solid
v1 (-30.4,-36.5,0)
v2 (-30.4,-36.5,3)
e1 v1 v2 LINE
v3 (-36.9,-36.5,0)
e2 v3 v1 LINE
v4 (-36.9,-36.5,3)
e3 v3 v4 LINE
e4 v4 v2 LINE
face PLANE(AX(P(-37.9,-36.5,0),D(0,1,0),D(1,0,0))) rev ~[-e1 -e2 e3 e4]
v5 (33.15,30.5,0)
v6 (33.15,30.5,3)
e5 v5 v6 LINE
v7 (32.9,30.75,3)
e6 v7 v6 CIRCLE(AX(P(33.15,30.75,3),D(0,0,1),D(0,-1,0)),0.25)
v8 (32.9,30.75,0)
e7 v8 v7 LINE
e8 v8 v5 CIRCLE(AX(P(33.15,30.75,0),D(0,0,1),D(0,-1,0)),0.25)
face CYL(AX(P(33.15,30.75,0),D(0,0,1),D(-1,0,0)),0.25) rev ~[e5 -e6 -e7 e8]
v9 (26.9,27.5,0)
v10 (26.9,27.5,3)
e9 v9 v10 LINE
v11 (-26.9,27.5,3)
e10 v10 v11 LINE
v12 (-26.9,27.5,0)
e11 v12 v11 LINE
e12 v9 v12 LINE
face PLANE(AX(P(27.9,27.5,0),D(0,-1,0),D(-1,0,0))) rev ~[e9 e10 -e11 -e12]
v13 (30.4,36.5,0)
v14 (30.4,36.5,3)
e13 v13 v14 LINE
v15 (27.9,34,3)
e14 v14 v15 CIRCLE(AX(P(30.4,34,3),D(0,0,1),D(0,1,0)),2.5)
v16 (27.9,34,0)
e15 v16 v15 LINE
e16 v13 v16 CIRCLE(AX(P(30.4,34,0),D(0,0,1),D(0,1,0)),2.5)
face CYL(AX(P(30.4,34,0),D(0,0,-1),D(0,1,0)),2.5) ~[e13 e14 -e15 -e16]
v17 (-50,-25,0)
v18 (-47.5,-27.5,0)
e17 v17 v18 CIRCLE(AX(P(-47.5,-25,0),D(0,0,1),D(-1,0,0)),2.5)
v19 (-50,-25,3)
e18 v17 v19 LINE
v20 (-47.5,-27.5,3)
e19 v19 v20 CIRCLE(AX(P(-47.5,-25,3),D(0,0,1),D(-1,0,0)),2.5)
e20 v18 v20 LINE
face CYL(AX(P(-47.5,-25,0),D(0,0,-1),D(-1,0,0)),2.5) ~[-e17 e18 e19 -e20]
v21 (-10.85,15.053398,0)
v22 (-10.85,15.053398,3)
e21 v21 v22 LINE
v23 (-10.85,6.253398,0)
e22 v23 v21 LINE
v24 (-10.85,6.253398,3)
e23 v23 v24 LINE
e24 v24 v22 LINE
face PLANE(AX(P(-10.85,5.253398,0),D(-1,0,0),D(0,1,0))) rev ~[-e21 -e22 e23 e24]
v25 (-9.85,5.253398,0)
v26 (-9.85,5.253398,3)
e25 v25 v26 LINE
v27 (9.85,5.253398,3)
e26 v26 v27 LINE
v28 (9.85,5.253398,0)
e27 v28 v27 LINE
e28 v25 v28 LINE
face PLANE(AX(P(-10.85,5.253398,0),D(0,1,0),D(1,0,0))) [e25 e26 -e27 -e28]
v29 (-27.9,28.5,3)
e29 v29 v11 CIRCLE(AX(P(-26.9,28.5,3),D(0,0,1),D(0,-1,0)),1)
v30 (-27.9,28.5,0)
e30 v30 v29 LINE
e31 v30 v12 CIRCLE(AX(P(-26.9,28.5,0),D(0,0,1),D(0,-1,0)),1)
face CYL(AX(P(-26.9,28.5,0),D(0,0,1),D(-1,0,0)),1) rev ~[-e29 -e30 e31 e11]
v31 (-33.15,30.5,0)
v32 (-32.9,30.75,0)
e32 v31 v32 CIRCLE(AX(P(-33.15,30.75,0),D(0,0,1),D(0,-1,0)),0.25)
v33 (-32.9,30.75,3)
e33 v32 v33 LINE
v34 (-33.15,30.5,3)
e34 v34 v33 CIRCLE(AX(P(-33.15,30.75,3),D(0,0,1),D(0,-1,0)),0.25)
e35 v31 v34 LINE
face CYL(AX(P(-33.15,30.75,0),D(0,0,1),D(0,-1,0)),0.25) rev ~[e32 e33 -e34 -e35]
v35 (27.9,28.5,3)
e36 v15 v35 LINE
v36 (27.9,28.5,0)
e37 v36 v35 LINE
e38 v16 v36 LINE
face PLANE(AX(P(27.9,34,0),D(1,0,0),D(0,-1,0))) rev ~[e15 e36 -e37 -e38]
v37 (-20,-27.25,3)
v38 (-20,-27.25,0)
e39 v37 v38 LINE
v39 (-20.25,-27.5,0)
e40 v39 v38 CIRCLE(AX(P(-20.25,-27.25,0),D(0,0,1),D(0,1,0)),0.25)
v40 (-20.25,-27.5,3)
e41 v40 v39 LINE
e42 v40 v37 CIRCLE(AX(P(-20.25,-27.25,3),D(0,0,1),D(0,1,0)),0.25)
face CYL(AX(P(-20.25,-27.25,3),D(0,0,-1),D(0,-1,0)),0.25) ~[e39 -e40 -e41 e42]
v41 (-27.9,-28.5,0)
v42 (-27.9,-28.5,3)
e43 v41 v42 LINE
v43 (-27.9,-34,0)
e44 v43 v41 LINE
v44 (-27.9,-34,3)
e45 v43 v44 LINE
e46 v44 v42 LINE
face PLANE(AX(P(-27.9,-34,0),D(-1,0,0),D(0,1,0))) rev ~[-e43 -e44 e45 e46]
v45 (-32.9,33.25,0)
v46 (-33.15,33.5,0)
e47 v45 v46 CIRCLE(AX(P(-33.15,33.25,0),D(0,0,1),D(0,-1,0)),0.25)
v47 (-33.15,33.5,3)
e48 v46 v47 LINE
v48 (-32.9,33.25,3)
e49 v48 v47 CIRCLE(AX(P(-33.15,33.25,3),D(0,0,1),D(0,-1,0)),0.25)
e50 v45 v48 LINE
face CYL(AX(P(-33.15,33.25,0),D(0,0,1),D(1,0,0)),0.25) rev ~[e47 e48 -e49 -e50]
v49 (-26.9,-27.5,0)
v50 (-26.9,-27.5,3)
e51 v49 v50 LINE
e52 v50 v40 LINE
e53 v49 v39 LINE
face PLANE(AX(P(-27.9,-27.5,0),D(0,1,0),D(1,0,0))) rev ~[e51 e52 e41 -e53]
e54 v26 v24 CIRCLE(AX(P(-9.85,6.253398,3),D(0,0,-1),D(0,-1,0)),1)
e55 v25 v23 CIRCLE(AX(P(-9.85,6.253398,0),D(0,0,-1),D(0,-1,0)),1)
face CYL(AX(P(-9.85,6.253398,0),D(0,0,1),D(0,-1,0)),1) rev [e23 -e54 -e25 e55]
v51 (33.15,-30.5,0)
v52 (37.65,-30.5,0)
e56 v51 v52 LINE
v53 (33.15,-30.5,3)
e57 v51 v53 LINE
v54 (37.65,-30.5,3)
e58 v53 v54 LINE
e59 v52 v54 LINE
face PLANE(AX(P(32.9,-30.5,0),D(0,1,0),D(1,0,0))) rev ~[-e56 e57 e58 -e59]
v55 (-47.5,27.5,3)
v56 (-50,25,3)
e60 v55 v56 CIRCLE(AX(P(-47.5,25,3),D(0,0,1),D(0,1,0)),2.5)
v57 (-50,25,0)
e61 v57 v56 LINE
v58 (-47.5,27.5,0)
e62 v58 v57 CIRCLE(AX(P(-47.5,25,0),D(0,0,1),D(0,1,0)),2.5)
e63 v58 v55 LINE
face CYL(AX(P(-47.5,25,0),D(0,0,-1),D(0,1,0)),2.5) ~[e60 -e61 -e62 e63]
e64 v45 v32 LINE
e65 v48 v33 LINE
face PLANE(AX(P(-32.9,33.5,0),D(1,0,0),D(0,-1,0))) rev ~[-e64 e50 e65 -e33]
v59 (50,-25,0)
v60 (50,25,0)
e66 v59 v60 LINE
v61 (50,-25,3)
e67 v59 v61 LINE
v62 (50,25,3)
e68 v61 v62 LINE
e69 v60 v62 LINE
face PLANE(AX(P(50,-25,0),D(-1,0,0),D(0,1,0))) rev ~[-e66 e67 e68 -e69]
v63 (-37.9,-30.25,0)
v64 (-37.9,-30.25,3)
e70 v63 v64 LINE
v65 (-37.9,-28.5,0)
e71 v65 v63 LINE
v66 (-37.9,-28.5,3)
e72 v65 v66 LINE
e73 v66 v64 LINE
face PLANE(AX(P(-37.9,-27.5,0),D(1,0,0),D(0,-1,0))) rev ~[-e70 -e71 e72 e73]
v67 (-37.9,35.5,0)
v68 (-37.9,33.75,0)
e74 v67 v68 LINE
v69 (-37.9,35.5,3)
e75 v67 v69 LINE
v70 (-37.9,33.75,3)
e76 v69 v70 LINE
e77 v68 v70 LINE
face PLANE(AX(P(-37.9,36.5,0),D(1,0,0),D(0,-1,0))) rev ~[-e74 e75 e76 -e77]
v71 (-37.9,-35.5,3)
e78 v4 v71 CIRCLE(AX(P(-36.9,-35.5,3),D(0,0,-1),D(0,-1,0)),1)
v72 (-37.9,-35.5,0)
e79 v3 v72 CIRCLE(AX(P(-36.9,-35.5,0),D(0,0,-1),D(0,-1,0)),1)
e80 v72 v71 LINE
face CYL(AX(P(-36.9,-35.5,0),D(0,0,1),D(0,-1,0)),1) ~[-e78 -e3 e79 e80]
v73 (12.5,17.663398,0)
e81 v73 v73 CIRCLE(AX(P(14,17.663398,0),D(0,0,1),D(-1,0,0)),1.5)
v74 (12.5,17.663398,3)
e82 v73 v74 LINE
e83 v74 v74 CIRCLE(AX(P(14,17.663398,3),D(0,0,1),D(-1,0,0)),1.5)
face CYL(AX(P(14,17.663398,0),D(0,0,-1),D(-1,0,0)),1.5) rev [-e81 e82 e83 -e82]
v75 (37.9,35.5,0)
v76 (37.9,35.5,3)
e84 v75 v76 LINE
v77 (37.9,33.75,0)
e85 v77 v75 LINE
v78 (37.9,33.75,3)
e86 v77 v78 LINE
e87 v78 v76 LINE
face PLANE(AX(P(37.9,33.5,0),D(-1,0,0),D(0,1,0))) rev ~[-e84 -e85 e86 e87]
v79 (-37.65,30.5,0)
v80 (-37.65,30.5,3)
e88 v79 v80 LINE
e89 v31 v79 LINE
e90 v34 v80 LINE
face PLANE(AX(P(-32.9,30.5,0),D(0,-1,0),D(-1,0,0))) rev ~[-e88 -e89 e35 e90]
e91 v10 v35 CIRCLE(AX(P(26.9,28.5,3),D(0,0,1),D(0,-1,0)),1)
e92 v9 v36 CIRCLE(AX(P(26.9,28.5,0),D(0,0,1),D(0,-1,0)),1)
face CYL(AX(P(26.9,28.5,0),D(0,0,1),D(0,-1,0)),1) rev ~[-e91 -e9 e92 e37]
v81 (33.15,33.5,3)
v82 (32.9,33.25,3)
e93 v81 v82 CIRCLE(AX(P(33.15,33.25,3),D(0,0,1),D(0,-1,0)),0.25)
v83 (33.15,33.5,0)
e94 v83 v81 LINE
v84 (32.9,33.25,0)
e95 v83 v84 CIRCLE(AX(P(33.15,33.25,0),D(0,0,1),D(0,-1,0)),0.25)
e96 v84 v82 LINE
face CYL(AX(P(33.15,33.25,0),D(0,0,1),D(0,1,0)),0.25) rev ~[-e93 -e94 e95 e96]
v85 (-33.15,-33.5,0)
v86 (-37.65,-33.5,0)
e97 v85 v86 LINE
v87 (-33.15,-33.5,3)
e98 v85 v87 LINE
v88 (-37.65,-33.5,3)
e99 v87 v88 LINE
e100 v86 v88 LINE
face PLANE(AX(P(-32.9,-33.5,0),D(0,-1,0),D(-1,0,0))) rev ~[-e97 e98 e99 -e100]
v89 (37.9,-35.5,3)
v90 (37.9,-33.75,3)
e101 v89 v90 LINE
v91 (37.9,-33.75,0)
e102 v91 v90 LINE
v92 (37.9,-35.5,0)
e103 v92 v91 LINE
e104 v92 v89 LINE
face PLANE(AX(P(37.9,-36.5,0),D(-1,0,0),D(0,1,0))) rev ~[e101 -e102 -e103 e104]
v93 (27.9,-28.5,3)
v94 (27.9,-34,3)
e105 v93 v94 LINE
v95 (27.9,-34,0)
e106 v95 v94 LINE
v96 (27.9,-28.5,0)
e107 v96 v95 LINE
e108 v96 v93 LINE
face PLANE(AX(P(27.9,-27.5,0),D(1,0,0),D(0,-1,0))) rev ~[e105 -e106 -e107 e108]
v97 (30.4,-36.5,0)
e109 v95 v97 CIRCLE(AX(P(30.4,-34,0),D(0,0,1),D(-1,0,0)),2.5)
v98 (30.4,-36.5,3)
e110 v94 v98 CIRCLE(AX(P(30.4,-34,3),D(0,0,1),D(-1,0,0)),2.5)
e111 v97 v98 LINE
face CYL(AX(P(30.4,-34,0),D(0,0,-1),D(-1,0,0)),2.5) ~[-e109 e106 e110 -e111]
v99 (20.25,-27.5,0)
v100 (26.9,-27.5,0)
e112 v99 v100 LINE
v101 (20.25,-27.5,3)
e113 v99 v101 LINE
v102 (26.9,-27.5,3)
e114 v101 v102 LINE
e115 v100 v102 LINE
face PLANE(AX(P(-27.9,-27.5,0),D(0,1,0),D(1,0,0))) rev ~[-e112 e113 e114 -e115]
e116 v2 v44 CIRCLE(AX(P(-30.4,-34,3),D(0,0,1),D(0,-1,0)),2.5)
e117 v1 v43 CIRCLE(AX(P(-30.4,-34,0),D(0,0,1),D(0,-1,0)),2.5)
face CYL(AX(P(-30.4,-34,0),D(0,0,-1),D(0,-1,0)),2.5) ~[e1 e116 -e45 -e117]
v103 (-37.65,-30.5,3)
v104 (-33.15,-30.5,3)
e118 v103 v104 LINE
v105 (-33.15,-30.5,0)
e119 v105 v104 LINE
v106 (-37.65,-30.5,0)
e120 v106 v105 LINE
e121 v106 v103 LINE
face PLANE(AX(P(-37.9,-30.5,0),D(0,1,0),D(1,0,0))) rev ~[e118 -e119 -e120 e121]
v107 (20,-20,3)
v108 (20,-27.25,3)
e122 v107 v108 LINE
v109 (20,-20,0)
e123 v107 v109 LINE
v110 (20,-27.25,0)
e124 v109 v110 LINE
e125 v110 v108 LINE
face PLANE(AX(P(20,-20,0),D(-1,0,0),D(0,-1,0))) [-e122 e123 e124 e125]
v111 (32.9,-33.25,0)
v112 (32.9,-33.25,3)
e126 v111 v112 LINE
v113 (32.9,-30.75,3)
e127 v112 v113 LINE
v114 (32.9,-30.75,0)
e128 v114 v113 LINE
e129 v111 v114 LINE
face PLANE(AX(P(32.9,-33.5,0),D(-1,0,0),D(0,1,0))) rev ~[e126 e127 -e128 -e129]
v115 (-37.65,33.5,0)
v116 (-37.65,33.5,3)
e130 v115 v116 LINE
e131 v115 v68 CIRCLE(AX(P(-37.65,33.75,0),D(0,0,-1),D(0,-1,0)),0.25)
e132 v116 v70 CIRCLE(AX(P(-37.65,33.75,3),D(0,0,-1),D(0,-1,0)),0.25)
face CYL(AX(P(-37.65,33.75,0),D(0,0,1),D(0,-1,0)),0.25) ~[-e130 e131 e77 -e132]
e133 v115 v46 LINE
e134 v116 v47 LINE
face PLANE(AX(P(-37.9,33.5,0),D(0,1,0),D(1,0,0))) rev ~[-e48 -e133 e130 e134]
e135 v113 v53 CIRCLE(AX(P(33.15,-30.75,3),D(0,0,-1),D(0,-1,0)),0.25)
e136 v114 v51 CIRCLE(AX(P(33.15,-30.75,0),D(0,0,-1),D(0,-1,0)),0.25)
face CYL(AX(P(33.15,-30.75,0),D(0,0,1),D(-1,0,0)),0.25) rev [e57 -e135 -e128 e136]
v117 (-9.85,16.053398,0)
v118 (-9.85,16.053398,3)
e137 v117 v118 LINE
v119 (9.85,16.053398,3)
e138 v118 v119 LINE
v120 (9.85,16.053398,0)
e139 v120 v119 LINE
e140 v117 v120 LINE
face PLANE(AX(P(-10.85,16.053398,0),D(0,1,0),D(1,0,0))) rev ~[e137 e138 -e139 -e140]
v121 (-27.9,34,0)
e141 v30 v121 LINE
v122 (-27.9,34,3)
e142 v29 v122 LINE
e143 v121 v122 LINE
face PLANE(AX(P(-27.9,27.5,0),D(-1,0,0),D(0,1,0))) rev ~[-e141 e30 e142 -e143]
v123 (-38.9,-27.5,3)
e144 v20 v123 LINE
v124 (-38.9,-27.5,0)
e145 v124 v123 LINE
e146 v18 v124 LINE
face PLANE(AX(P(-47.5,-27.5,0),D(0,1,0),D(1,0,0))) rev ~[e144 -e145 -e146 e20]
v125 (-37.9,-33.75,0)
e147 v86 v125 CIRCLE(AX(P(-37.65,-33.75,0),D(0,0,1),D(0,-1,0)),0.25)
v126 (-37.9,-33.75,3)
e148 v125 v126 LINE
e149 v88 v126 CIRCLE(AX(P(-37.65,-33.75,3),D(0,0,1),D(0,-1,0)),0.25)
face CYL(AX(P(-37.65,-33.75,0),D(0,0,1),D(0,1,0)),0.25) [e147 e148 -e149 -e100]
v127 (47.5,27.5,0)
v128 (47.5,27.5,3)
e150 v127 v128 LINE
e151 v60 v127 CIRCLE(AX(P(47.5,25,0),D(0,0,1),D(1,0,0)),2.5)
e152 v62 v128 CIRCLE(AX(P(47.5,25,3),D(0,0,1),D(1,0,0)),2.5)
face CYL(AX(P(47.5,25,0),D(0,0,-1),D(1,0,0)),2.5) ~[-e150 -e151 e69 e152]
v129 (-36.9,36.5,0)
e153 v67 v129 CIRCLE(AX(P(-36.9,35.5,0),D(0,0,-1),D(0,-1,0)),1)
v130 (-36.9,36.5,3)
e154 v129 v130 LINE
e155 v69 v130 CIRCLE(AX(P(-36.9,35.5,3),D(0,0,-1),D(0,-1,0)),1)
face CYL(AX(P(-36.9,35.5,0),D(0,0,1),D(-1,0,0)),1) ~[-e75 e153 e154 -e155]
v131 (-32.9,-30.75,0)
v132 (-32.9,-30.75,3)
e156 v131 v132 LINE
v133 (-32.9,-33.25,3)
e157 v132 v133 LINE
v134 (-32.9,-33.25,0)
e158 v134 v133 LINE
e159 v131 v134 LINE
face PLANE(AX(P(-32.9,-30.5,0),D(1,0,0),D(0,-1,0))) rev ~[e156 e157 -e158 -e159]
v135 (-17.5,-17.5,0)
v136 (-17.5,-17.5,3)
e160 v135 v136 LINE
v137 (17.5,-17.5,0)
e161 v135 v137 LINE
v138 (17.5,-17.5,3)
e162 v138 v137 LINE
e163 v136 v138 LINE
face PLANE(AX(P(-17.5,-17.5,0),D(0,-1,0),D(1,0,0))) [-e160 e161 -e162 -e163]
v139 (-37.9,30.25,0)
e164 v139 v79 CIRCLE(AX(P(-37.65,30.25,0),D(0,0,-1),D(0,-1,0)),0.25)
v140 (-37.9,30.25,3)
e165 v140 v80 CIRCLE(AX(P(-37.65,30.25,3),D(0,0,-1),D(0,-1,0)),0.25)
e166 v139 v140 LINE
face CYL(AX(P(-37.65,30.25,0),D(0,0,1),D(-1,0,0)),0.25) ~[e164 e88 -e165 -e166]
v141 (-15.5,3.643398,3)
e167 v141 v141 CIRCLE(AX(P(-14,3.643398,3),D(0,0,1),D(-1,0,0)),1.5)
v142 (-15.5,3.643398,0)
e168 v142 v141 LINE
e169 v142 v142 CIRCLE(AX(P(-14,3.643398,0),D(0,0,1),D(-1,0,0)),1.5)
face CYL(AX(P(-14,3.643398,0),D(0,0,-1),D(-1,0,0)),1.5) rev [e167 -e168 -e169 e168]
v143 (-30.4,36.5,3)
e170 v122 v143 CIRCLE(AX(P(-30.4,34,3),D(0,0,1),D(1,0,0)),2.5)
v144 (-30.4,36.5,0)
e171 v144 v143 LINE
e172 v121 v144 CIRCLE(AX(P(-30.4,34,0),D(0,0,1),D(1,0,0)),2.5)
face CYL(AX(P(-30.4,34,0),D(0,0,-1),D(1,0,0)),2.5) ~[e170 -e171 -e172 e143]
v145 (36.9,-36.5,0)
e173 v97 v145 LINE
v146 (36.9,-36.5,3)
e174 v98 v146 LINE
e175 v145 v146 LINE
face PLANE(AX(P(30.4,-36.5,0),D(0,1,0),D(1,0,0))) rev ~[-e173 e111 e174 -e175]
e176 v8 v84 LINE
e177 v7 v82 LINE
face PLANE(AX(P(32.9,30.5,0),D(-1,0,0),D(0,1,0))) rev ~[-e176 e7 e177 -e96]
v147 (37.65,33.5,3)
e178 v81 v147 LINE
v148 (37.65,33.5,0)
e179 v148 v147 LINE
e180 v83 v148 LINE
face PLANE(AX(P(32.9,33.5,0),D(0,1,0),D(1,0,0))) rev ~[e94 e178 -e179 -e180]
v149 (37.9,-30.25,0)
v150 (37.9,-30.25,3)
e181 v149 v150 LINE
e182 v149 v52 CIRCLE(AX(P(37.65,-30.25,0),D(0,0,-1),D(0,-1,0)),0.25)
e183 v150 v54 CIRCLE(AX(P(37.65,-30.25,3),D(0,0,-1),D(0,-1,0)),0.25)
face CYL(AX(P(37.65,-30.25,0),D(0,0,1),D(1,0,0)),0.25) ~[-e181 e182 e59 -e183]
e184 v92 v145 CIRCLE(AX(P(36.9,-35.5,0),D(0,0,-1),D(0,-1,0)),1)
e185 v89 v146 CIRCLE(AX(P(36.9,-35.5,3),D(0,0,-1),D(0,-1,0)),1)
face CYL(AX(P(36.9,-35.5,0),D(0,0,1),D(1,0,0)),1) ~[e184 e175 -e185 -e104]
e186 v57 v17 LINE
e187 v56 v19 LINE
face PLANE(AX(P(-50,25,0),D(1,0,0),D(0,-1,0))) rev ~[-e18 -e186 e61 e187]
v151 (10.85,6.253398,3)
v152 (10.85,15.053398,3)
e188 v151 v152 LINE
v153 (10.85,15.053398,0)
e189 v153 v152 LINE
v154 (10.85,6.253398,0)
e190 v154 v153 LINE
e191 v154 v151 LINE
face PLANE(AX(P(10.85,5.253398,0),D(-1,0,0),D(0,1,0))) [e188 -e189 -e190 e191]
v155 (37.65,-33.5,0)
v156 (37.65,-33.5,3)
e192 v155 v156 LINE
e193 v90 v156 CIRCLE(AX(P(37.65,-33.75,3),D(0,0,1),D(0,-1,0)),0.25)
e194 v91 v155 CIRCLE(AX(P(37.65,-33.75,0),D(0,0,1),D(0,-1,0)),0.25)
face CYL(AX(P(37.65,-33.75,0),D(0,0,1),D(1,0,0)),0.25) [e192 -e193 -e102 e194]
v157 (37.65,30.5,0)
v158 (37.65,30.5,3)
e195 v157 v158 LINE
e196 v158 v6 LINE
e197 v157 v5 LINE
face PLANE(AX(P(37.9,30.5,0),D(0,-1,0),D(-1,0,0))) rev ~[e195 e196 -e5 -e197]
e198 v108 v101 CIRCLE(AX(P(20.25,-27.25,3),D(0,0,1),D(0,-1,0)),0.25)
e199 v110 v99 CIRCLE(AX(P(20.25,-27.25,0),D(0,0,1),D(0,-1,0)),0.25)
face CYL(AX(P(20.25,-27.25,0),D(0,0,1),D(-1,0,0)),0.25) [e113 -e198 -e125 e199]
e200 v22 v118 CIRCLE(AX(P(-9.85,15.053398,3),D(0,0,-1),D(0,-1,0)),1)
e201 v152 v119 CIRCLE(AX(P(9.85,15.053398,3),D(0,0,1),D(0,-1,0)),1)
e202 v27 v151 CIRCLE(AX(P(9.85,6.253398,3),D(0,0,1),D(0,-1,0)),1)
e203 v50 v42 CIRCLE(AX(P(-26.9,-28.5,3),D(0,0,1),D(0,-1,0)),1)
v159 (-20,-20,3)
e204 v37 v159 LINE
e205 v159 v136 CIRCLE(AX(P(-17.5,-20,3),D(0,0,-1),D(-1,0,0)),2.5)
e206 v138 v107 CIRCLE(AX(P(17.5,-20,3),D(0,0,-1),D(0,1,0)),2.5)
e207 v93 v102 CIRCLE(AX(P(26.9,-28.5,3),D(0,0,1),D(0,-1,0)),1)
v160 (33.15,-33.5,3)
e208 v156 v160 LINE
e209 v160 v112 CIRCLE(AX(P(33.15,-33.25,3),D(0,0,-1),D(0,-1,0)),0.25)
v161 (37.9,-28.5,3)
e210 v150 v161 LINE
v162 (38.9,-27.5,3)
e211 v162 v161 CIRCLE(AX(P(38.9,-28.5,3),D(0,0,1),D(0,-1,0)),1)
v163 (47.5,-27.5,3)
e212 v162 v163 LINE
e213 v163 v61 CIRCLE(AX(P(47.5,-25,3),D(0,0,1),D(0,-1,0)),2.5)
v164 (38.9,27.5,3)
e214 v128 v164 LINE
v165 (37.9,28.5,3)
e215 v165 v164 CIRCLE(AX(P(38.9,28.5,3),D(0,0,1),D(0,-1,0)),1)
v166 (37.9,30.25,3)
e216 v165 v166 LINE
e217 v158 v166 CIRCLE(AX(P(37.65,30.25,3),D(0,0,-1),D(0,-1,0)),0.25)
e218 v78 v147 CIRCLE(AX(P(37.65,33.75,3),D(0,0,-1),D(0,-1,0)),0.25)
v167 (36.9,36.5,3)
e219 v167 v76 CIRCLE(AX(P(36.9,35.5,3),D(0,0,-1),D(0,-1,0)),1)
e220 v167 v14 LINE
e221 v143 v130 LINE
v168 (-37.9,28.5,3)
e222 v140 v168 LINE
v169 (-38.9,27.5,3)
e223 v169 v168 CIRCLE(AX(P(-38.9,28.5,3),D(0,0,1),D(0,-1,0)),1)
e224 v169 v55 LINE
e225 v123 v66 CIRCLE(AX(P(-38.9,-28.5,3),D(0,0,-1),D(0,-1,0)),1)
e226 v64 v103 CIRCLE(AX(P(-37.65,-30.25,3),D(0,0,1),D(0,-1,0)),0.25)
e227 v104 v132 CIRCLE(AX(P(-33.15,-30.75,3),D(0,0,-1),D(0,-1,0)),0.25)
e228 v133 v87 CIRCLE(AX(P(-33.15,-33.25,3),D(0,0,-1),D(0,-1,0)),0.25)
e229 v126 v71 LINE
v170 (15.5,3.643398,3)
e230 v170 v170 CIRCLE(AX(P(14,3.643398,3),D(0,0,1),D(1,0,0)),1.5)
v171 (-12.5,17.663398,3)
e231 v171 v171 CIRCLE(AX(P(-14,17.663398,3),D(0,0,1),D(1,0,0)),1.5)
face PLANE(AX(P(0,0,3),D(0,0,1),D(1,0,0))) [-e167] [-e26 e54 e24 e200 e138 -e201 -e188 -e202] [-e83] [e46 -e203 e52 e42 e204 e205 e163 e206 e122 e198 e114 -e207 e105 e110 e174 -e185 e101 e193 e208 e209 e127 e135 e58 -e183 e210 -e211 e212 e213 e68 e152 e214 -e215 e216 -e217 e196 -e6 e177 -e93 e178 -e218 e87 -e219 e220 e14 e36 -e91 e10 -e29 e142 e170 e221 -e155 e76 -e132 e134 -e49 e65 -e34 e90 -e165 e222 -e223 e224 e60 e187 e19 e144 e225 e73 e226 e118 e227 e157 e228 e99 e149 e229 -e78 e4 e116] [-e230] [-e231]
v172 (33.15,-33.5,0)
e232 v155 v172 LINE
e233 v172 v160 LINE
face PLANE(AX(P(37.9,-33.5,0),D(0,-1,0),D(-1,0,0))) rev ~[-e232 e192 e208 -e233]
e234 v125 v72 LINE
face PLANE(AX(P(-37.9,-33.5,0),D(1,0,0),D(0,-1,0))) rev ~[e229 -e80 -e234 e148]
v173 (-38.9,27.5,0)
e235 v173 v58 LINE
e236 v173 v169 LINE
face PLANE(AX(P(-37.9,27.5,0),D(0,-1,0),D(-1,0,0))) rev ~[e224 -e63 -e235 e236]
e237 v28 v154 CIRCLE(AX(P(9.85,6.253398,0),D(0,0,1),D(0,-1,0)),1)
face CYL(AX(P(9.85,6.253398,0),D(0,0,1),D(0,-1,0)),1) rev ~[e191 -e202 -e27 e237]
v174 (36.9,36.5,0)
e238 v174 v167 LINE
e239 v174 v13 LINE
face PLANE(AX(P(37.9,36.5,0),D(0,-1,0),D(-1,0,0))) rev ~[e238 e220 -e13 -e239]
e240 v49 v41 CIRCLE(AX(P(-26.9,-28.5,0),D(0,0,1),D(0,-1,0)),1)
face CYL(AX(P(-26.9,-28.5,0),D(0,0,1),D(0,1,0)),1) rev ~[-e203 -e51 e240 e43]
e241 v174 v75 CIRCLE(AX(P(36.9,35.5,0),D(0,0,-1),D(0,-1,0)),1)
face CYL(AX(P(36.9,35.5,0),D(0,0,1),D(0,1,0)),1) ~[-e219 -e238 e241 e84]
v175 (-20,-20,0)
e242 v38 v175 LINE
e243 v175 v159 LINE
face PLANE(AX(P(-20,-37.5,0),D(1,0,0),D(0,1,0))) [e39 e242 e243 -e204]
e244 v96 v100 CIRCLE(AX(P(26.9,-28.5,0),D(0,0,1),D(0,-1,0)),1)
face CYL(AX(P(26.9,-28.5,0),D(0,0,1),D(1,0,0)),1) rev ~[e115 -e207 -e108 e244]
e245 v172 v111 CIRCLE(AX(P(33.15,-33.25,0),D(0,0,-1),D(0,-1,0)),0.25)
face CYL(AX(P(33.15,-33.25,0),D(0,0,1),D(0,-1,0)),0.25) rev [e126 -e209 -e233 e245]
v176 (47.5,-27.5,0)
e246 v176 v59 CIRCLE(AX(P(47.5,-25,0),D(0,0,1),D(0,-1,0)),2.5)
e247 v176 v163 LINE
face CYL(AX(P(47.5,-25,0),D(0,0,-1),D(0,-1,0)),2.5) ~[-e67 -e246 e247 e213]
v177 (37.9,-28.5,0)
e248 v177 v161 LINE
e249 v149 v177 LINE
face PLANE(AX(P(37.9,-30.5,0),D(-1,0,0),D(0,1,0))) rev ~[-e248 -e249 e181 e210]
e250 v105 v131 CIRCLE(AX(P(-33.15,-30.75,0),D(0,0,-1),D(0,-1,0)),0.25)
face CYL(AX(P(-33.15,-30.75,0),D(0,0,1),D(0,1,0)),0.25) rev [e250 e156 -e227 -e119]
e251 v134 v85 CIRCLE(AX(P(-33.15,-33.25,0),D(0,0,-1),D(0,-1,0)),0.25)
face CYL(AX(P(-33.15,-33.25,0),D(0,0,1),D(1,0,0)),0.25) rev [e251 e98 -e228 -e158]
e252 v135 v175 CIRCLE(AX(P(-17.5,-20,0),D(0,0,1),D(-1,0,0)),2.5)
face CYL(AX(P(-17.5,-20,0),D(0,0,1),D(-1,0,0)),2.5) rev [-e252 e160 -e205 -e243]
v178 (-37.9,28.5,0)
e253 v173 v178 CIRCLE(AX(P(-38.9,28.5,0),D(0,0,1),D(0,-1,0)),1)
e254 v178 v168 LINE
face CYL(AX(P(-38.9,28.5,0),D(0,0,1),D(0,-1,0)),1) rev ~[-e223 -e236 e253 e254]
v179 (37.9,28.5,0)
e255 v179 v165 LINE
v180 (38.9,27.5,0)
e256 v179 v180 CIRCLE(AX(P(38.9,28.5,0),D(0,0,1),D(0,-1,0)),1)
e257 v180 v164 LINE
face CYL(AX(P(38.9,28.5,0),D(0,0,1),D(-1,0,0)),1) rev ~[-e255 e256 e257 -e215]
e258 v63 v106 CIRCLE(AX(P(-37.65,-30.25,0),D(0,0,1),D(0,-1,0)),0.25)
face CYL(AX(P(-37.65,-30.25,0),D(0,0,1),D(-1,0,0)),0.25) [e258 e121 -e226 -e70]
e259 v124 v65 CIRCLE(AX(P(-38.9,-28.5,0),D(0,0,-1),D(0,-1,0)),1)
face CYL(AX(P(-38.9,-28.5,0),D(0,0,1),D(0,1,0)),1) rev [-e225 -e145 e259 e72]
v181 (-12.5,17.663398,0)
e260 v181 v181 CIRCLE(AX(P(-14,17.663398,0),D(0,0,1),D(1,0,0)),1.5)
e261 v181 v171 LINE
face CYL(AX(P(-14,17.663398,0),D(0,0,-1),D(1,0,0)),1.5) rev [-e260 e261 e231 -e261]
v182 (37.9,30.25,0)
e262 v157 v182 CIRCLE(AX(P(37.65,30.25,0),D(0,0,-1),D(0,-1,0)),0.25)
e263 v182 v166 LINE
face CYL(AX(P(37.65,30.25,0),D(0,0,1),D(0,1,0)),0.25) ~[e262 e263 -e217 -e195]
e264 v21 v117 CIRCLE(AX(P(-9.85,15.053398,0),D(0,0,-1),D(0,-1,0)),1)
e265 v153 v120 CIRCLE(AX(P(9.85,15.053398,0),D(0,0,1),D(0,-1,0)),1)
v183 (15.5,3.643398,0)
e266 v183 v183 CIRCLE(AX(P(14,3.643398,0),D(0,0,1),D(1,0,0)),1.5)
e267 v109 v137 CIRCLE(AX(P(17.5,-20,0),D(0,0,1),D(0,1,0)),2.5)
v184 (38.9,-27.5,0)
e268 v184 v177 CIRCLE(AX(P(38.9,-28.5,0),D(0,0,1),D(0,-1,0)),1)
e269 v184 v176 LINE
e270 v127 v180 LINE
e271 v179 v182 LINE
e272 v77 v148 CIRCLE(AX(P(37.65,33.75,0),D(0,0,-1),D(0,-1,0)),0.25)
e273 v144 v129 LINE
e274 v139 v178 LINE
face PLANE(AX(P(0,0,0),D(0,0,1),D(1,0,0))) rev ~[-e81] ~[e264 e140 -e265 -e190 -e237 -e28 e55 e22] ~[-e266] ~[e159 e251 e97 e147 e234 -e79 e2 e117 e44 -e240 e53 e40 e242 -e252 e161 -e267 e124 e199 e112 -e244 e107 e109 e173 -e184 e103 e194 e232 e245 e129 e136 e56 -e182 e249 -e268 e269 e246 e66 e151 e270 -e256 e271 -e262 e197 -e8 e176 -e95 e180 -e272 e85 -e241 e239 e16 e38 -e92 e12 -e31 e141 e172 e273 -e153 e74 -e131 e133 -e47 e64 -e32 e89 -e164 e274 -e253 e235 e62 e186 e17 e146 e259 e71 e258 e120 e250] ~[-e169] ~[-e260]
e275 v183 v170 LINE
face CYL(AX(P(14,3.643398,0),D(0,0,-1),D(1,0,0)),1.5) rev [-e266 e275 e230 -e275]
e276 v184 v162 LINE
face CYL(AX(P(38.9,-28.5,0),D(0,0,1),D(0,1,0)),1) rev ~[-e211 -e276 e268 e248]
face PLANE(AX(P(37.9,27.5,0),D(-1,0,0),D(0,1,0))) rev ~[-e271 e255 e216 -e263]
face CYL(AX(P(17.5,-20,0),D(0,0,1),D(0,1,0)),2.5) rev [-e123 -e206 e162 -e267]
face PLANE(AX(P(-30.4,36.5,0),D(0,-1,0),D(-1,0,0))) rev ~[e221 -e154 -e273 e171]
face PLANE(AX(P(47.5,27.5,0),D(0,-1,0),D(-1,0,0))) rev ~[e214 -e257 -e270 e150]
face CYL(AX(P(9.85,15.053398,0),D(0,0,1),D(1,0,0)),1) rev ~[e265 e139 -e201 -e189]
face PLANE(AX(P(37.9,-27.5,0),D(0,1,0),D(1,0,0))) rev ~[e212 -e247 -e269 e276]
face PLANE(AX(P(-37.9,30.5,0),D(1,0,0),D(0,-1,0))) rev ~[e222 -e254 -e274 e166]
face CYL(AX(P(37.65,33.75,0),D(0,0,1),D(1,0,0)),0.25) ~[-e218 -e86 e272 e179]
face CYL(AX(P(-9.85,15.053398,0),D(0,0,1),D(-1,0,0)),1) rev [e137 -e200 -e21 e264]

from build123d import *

# Parameters (mm, degrees)
CROQUIS1_R              = 1.5
CROQUIS1_W              = 21.7
CROQUIS1_H              = 10.8
SALIENTE_EXTRUIR1_DEPTH = 3
CORTAR_EXTRUIR2_DEPTH   = 3
REDONDEO1_R             = 1
REDONDEO2_R             = 0.25


with BuildPart() as part:
    # Croquis1 → Saliente-Extruir1 (new body)
    with BuildSketch(Plane.XY):
        with BuildLine():
            Line((-50, 25), (-50, -25))
            ThreePointArc((-50, -25), (-49.267766953, -26.767766953), (-47.5, -27.5))
            Line((-47.5, -27.5), (-37.9, -27.5))
            Line((-37.9, -27.5), (-37.9, -30.5))
            Line((-37.9, -30.5), (-32.9, -30.5))
            Line((-32.9, -30.5), (-32.9, -33.5))
            Line((-32.9, -33.5), (-37.9, -33.5))
            Line((-37.9, -33.5), (-37.9, -36.5))
            Line((-37.9, -36.5), (-30.4, -36.5))
            ThreePointArc((-30.4, -36.5), (-28.632233047, -35.767766953), (-27.9, -34))
            Line((-27.9, -34), (-27.9, -27.5))
            Line((-27.9, -27.5), (27.9, -27.5))
            Line((27.9, -27.5), (27.9, -34))
            ThreePointArc((27.9, -34), (28.632233047, -35.767766953), (30.4, -36.5))
            Line((30.4, -36.5), (37.9, -36.5))
            Line((37.9, -36.5), (37.9, -33.5))
            Line((37.9, -33.5), (32.9, -33.5))
            Line((32.9, -33.5), (32.9, -30.5))
            Line((32.9, -30.5), (37.9, -30.5))
            Line((37.9, -30.5), (37.9, -27.5))
            Line((37.9, -27.5), (47.5, -27.5))
            ThreePointArc((47.5, -27.5), (49.267766953, -26.767766953), (50, -25))
            Line((50, -25), (50, 25))
            ThreePointArc((50, 25), (49.267766953, 26.767766953), (47.5, 27.5))
            Line((47.5, 27.5), (37.9, 27.5))
            Line((37.9, 27.5), (37.9, 30.5))
            Line((37.9, 30.5), (32.9, 30.5))
            Line((32.9, 30.5), (32.9, 33.5))
            Line((32.9, 33.5), (37.9, 33.5))
            Line((37.9, 33.5), (37.9, 36.5))
            Line((37.9, 36.5), (30.4, 36.5))
            ThreePointArc((30.4, 36.5), (28.632233047, 35.767766953), (27.9, 34))
            Line((27.9, 34), (27.9, 27.5))
            Line((27.9, 27.5), (-27.9, 27.5))
            Line((-27.9, 27.5), (-27.9, 34))
            ThreePointArc((-27.9, 34), (-28.632233047, 35.767766953), (-30.4, 36.5))
            Line((-30.4, 36.5), (-37.9, 36.5))
            Line((-37.9, 36.5), (-37.9, 33.5))
            Line((-37.9, 33.5), (-32.9, 33.5))
            Line((-32.9, 33.5), (-32.9, 30.5))
            Line((-32.9, 30.5), (-37.9, 30.5))
            Line((-37.9, 30.5), (-37.9, 27.5))
            Line((-37.9, 27.5), (-47.5, 27.5))
            ThreePointArc((-47.5, 27.5), (-49.267766953, 26.767766953), (-50, 25))
        make_face()
        with Locations((-14, 17.663397979)):
            Circle(CROQUIS1_R, mode=Mode.SUBTRACT)
        with Locations(Location((14, 17.663397979, 0), (0, 0, 180))):
            Circle(CROQUIS1_R, mode=Mode.SUBTRACT)
        with Locations((14, 3.643397979)):
            Circle(CROQUIS1_R, mode=Mode.SUBTRACT)
        with Locations(Location((-14, 3.643397979, 0), (0, 0, 180))):
            Circle(CROQUIS1_R, mode=Mode.SUBTRACT)
        with Locations((0, 10.653397979)):
            Rectangle(CROQUIS1_W, CROQUIS1_H, mode=Mode.SUBTRACT)
    extrude(amount=SALIENTE_EXTRUIR1_DEPTH)

    # Croquis2 → Cortar-Extruir2 (cut, symmetric)
    with BuildSketch(Plane.XY):
        with BuildLine():
            Line((-17.5, -17.5), (17.5, -17.5))
            ThreePointArc((17.5, -17.5), (19.267766953, -18.232233047), (20, -20))
            Line((20, -20), (20, -37.5))
            Line((20, -37.5), (-20, -37.5))
            Line((-20, -37.5), (-20, -20))
            ThreePointArc((-20, -20), (-19.267766953, -18.232233047), (-17.5, -17.5))
        make_face()
    extrude(amount=CORTAR_EXTRUIR2_DEPTH, both=True, mode=Mode.SUBTRACT)

    # Redondeo1
    redondeo1_edges = [part.edges().sort_by_distance(p)[0] for p in [
        (10.85, 5.253397979, 1.5),
        (10.85, 16.053397979, 1.5),
        (-10.85, 16.053397979, 1.5),
        (-10.85, 5.253397979, 1.5),
        (-37.9, -27.5, 1.5),
        (-37.9, 27.5, 1.5),
        (-37.9, 36.5, 1.5),
        (-27.9, 27.5, 1.5),
        (27.9, 27.5, 1.5),
        (37.9, 36.5, 1.5),
        (37.9, 27.5, 1.5),
        (37.9, -27.5, 1.5),
        (37.9, -36.5, 1.5),
        (27.9, -27.5, 1.5),
        (-27.9, -27.5, 1.5),
        (-37.9, -36.5, 1.5),
    ]]
    fillet(redondeo1_edges, radius=REDONDEO1_R)

    # Redondeo2
    redondeo2_edges = [part.edges().sort_by_distance(p)[0] for p in [
        (20, -27.5, 1.5),
        (-20, -27.5, 1.5),
        (-37.9, 30.5, 1.5),
        (-32.9, 30.5, 1.5),
        (-32.9, 33.5, 1.5),
        (-37.9, 33.5, 1.5),
        (37.9, 33.5, 1.5),
        (32.9, 33.5, 1.5),
        (32.9, 30.5, 1.5),
        (37.9, 30.5, 1.5),
        (37.9, -30.5, 1.5),
        (32.9, -30.5, 1.5),
        (32.9, -33.5, 1.5),
        (37.9, -33.5, 1.5),
        (-37.9, -33.5, 1.5),
        (-32.9, -33.5, 1.5),
        (-32.9, -30.5, 1.5),
        (-37.9, -30.5, 1.5),
    ]]
    fillet(redondeo2_edges, radius=REDONDEO2_R)


solid = part.part
